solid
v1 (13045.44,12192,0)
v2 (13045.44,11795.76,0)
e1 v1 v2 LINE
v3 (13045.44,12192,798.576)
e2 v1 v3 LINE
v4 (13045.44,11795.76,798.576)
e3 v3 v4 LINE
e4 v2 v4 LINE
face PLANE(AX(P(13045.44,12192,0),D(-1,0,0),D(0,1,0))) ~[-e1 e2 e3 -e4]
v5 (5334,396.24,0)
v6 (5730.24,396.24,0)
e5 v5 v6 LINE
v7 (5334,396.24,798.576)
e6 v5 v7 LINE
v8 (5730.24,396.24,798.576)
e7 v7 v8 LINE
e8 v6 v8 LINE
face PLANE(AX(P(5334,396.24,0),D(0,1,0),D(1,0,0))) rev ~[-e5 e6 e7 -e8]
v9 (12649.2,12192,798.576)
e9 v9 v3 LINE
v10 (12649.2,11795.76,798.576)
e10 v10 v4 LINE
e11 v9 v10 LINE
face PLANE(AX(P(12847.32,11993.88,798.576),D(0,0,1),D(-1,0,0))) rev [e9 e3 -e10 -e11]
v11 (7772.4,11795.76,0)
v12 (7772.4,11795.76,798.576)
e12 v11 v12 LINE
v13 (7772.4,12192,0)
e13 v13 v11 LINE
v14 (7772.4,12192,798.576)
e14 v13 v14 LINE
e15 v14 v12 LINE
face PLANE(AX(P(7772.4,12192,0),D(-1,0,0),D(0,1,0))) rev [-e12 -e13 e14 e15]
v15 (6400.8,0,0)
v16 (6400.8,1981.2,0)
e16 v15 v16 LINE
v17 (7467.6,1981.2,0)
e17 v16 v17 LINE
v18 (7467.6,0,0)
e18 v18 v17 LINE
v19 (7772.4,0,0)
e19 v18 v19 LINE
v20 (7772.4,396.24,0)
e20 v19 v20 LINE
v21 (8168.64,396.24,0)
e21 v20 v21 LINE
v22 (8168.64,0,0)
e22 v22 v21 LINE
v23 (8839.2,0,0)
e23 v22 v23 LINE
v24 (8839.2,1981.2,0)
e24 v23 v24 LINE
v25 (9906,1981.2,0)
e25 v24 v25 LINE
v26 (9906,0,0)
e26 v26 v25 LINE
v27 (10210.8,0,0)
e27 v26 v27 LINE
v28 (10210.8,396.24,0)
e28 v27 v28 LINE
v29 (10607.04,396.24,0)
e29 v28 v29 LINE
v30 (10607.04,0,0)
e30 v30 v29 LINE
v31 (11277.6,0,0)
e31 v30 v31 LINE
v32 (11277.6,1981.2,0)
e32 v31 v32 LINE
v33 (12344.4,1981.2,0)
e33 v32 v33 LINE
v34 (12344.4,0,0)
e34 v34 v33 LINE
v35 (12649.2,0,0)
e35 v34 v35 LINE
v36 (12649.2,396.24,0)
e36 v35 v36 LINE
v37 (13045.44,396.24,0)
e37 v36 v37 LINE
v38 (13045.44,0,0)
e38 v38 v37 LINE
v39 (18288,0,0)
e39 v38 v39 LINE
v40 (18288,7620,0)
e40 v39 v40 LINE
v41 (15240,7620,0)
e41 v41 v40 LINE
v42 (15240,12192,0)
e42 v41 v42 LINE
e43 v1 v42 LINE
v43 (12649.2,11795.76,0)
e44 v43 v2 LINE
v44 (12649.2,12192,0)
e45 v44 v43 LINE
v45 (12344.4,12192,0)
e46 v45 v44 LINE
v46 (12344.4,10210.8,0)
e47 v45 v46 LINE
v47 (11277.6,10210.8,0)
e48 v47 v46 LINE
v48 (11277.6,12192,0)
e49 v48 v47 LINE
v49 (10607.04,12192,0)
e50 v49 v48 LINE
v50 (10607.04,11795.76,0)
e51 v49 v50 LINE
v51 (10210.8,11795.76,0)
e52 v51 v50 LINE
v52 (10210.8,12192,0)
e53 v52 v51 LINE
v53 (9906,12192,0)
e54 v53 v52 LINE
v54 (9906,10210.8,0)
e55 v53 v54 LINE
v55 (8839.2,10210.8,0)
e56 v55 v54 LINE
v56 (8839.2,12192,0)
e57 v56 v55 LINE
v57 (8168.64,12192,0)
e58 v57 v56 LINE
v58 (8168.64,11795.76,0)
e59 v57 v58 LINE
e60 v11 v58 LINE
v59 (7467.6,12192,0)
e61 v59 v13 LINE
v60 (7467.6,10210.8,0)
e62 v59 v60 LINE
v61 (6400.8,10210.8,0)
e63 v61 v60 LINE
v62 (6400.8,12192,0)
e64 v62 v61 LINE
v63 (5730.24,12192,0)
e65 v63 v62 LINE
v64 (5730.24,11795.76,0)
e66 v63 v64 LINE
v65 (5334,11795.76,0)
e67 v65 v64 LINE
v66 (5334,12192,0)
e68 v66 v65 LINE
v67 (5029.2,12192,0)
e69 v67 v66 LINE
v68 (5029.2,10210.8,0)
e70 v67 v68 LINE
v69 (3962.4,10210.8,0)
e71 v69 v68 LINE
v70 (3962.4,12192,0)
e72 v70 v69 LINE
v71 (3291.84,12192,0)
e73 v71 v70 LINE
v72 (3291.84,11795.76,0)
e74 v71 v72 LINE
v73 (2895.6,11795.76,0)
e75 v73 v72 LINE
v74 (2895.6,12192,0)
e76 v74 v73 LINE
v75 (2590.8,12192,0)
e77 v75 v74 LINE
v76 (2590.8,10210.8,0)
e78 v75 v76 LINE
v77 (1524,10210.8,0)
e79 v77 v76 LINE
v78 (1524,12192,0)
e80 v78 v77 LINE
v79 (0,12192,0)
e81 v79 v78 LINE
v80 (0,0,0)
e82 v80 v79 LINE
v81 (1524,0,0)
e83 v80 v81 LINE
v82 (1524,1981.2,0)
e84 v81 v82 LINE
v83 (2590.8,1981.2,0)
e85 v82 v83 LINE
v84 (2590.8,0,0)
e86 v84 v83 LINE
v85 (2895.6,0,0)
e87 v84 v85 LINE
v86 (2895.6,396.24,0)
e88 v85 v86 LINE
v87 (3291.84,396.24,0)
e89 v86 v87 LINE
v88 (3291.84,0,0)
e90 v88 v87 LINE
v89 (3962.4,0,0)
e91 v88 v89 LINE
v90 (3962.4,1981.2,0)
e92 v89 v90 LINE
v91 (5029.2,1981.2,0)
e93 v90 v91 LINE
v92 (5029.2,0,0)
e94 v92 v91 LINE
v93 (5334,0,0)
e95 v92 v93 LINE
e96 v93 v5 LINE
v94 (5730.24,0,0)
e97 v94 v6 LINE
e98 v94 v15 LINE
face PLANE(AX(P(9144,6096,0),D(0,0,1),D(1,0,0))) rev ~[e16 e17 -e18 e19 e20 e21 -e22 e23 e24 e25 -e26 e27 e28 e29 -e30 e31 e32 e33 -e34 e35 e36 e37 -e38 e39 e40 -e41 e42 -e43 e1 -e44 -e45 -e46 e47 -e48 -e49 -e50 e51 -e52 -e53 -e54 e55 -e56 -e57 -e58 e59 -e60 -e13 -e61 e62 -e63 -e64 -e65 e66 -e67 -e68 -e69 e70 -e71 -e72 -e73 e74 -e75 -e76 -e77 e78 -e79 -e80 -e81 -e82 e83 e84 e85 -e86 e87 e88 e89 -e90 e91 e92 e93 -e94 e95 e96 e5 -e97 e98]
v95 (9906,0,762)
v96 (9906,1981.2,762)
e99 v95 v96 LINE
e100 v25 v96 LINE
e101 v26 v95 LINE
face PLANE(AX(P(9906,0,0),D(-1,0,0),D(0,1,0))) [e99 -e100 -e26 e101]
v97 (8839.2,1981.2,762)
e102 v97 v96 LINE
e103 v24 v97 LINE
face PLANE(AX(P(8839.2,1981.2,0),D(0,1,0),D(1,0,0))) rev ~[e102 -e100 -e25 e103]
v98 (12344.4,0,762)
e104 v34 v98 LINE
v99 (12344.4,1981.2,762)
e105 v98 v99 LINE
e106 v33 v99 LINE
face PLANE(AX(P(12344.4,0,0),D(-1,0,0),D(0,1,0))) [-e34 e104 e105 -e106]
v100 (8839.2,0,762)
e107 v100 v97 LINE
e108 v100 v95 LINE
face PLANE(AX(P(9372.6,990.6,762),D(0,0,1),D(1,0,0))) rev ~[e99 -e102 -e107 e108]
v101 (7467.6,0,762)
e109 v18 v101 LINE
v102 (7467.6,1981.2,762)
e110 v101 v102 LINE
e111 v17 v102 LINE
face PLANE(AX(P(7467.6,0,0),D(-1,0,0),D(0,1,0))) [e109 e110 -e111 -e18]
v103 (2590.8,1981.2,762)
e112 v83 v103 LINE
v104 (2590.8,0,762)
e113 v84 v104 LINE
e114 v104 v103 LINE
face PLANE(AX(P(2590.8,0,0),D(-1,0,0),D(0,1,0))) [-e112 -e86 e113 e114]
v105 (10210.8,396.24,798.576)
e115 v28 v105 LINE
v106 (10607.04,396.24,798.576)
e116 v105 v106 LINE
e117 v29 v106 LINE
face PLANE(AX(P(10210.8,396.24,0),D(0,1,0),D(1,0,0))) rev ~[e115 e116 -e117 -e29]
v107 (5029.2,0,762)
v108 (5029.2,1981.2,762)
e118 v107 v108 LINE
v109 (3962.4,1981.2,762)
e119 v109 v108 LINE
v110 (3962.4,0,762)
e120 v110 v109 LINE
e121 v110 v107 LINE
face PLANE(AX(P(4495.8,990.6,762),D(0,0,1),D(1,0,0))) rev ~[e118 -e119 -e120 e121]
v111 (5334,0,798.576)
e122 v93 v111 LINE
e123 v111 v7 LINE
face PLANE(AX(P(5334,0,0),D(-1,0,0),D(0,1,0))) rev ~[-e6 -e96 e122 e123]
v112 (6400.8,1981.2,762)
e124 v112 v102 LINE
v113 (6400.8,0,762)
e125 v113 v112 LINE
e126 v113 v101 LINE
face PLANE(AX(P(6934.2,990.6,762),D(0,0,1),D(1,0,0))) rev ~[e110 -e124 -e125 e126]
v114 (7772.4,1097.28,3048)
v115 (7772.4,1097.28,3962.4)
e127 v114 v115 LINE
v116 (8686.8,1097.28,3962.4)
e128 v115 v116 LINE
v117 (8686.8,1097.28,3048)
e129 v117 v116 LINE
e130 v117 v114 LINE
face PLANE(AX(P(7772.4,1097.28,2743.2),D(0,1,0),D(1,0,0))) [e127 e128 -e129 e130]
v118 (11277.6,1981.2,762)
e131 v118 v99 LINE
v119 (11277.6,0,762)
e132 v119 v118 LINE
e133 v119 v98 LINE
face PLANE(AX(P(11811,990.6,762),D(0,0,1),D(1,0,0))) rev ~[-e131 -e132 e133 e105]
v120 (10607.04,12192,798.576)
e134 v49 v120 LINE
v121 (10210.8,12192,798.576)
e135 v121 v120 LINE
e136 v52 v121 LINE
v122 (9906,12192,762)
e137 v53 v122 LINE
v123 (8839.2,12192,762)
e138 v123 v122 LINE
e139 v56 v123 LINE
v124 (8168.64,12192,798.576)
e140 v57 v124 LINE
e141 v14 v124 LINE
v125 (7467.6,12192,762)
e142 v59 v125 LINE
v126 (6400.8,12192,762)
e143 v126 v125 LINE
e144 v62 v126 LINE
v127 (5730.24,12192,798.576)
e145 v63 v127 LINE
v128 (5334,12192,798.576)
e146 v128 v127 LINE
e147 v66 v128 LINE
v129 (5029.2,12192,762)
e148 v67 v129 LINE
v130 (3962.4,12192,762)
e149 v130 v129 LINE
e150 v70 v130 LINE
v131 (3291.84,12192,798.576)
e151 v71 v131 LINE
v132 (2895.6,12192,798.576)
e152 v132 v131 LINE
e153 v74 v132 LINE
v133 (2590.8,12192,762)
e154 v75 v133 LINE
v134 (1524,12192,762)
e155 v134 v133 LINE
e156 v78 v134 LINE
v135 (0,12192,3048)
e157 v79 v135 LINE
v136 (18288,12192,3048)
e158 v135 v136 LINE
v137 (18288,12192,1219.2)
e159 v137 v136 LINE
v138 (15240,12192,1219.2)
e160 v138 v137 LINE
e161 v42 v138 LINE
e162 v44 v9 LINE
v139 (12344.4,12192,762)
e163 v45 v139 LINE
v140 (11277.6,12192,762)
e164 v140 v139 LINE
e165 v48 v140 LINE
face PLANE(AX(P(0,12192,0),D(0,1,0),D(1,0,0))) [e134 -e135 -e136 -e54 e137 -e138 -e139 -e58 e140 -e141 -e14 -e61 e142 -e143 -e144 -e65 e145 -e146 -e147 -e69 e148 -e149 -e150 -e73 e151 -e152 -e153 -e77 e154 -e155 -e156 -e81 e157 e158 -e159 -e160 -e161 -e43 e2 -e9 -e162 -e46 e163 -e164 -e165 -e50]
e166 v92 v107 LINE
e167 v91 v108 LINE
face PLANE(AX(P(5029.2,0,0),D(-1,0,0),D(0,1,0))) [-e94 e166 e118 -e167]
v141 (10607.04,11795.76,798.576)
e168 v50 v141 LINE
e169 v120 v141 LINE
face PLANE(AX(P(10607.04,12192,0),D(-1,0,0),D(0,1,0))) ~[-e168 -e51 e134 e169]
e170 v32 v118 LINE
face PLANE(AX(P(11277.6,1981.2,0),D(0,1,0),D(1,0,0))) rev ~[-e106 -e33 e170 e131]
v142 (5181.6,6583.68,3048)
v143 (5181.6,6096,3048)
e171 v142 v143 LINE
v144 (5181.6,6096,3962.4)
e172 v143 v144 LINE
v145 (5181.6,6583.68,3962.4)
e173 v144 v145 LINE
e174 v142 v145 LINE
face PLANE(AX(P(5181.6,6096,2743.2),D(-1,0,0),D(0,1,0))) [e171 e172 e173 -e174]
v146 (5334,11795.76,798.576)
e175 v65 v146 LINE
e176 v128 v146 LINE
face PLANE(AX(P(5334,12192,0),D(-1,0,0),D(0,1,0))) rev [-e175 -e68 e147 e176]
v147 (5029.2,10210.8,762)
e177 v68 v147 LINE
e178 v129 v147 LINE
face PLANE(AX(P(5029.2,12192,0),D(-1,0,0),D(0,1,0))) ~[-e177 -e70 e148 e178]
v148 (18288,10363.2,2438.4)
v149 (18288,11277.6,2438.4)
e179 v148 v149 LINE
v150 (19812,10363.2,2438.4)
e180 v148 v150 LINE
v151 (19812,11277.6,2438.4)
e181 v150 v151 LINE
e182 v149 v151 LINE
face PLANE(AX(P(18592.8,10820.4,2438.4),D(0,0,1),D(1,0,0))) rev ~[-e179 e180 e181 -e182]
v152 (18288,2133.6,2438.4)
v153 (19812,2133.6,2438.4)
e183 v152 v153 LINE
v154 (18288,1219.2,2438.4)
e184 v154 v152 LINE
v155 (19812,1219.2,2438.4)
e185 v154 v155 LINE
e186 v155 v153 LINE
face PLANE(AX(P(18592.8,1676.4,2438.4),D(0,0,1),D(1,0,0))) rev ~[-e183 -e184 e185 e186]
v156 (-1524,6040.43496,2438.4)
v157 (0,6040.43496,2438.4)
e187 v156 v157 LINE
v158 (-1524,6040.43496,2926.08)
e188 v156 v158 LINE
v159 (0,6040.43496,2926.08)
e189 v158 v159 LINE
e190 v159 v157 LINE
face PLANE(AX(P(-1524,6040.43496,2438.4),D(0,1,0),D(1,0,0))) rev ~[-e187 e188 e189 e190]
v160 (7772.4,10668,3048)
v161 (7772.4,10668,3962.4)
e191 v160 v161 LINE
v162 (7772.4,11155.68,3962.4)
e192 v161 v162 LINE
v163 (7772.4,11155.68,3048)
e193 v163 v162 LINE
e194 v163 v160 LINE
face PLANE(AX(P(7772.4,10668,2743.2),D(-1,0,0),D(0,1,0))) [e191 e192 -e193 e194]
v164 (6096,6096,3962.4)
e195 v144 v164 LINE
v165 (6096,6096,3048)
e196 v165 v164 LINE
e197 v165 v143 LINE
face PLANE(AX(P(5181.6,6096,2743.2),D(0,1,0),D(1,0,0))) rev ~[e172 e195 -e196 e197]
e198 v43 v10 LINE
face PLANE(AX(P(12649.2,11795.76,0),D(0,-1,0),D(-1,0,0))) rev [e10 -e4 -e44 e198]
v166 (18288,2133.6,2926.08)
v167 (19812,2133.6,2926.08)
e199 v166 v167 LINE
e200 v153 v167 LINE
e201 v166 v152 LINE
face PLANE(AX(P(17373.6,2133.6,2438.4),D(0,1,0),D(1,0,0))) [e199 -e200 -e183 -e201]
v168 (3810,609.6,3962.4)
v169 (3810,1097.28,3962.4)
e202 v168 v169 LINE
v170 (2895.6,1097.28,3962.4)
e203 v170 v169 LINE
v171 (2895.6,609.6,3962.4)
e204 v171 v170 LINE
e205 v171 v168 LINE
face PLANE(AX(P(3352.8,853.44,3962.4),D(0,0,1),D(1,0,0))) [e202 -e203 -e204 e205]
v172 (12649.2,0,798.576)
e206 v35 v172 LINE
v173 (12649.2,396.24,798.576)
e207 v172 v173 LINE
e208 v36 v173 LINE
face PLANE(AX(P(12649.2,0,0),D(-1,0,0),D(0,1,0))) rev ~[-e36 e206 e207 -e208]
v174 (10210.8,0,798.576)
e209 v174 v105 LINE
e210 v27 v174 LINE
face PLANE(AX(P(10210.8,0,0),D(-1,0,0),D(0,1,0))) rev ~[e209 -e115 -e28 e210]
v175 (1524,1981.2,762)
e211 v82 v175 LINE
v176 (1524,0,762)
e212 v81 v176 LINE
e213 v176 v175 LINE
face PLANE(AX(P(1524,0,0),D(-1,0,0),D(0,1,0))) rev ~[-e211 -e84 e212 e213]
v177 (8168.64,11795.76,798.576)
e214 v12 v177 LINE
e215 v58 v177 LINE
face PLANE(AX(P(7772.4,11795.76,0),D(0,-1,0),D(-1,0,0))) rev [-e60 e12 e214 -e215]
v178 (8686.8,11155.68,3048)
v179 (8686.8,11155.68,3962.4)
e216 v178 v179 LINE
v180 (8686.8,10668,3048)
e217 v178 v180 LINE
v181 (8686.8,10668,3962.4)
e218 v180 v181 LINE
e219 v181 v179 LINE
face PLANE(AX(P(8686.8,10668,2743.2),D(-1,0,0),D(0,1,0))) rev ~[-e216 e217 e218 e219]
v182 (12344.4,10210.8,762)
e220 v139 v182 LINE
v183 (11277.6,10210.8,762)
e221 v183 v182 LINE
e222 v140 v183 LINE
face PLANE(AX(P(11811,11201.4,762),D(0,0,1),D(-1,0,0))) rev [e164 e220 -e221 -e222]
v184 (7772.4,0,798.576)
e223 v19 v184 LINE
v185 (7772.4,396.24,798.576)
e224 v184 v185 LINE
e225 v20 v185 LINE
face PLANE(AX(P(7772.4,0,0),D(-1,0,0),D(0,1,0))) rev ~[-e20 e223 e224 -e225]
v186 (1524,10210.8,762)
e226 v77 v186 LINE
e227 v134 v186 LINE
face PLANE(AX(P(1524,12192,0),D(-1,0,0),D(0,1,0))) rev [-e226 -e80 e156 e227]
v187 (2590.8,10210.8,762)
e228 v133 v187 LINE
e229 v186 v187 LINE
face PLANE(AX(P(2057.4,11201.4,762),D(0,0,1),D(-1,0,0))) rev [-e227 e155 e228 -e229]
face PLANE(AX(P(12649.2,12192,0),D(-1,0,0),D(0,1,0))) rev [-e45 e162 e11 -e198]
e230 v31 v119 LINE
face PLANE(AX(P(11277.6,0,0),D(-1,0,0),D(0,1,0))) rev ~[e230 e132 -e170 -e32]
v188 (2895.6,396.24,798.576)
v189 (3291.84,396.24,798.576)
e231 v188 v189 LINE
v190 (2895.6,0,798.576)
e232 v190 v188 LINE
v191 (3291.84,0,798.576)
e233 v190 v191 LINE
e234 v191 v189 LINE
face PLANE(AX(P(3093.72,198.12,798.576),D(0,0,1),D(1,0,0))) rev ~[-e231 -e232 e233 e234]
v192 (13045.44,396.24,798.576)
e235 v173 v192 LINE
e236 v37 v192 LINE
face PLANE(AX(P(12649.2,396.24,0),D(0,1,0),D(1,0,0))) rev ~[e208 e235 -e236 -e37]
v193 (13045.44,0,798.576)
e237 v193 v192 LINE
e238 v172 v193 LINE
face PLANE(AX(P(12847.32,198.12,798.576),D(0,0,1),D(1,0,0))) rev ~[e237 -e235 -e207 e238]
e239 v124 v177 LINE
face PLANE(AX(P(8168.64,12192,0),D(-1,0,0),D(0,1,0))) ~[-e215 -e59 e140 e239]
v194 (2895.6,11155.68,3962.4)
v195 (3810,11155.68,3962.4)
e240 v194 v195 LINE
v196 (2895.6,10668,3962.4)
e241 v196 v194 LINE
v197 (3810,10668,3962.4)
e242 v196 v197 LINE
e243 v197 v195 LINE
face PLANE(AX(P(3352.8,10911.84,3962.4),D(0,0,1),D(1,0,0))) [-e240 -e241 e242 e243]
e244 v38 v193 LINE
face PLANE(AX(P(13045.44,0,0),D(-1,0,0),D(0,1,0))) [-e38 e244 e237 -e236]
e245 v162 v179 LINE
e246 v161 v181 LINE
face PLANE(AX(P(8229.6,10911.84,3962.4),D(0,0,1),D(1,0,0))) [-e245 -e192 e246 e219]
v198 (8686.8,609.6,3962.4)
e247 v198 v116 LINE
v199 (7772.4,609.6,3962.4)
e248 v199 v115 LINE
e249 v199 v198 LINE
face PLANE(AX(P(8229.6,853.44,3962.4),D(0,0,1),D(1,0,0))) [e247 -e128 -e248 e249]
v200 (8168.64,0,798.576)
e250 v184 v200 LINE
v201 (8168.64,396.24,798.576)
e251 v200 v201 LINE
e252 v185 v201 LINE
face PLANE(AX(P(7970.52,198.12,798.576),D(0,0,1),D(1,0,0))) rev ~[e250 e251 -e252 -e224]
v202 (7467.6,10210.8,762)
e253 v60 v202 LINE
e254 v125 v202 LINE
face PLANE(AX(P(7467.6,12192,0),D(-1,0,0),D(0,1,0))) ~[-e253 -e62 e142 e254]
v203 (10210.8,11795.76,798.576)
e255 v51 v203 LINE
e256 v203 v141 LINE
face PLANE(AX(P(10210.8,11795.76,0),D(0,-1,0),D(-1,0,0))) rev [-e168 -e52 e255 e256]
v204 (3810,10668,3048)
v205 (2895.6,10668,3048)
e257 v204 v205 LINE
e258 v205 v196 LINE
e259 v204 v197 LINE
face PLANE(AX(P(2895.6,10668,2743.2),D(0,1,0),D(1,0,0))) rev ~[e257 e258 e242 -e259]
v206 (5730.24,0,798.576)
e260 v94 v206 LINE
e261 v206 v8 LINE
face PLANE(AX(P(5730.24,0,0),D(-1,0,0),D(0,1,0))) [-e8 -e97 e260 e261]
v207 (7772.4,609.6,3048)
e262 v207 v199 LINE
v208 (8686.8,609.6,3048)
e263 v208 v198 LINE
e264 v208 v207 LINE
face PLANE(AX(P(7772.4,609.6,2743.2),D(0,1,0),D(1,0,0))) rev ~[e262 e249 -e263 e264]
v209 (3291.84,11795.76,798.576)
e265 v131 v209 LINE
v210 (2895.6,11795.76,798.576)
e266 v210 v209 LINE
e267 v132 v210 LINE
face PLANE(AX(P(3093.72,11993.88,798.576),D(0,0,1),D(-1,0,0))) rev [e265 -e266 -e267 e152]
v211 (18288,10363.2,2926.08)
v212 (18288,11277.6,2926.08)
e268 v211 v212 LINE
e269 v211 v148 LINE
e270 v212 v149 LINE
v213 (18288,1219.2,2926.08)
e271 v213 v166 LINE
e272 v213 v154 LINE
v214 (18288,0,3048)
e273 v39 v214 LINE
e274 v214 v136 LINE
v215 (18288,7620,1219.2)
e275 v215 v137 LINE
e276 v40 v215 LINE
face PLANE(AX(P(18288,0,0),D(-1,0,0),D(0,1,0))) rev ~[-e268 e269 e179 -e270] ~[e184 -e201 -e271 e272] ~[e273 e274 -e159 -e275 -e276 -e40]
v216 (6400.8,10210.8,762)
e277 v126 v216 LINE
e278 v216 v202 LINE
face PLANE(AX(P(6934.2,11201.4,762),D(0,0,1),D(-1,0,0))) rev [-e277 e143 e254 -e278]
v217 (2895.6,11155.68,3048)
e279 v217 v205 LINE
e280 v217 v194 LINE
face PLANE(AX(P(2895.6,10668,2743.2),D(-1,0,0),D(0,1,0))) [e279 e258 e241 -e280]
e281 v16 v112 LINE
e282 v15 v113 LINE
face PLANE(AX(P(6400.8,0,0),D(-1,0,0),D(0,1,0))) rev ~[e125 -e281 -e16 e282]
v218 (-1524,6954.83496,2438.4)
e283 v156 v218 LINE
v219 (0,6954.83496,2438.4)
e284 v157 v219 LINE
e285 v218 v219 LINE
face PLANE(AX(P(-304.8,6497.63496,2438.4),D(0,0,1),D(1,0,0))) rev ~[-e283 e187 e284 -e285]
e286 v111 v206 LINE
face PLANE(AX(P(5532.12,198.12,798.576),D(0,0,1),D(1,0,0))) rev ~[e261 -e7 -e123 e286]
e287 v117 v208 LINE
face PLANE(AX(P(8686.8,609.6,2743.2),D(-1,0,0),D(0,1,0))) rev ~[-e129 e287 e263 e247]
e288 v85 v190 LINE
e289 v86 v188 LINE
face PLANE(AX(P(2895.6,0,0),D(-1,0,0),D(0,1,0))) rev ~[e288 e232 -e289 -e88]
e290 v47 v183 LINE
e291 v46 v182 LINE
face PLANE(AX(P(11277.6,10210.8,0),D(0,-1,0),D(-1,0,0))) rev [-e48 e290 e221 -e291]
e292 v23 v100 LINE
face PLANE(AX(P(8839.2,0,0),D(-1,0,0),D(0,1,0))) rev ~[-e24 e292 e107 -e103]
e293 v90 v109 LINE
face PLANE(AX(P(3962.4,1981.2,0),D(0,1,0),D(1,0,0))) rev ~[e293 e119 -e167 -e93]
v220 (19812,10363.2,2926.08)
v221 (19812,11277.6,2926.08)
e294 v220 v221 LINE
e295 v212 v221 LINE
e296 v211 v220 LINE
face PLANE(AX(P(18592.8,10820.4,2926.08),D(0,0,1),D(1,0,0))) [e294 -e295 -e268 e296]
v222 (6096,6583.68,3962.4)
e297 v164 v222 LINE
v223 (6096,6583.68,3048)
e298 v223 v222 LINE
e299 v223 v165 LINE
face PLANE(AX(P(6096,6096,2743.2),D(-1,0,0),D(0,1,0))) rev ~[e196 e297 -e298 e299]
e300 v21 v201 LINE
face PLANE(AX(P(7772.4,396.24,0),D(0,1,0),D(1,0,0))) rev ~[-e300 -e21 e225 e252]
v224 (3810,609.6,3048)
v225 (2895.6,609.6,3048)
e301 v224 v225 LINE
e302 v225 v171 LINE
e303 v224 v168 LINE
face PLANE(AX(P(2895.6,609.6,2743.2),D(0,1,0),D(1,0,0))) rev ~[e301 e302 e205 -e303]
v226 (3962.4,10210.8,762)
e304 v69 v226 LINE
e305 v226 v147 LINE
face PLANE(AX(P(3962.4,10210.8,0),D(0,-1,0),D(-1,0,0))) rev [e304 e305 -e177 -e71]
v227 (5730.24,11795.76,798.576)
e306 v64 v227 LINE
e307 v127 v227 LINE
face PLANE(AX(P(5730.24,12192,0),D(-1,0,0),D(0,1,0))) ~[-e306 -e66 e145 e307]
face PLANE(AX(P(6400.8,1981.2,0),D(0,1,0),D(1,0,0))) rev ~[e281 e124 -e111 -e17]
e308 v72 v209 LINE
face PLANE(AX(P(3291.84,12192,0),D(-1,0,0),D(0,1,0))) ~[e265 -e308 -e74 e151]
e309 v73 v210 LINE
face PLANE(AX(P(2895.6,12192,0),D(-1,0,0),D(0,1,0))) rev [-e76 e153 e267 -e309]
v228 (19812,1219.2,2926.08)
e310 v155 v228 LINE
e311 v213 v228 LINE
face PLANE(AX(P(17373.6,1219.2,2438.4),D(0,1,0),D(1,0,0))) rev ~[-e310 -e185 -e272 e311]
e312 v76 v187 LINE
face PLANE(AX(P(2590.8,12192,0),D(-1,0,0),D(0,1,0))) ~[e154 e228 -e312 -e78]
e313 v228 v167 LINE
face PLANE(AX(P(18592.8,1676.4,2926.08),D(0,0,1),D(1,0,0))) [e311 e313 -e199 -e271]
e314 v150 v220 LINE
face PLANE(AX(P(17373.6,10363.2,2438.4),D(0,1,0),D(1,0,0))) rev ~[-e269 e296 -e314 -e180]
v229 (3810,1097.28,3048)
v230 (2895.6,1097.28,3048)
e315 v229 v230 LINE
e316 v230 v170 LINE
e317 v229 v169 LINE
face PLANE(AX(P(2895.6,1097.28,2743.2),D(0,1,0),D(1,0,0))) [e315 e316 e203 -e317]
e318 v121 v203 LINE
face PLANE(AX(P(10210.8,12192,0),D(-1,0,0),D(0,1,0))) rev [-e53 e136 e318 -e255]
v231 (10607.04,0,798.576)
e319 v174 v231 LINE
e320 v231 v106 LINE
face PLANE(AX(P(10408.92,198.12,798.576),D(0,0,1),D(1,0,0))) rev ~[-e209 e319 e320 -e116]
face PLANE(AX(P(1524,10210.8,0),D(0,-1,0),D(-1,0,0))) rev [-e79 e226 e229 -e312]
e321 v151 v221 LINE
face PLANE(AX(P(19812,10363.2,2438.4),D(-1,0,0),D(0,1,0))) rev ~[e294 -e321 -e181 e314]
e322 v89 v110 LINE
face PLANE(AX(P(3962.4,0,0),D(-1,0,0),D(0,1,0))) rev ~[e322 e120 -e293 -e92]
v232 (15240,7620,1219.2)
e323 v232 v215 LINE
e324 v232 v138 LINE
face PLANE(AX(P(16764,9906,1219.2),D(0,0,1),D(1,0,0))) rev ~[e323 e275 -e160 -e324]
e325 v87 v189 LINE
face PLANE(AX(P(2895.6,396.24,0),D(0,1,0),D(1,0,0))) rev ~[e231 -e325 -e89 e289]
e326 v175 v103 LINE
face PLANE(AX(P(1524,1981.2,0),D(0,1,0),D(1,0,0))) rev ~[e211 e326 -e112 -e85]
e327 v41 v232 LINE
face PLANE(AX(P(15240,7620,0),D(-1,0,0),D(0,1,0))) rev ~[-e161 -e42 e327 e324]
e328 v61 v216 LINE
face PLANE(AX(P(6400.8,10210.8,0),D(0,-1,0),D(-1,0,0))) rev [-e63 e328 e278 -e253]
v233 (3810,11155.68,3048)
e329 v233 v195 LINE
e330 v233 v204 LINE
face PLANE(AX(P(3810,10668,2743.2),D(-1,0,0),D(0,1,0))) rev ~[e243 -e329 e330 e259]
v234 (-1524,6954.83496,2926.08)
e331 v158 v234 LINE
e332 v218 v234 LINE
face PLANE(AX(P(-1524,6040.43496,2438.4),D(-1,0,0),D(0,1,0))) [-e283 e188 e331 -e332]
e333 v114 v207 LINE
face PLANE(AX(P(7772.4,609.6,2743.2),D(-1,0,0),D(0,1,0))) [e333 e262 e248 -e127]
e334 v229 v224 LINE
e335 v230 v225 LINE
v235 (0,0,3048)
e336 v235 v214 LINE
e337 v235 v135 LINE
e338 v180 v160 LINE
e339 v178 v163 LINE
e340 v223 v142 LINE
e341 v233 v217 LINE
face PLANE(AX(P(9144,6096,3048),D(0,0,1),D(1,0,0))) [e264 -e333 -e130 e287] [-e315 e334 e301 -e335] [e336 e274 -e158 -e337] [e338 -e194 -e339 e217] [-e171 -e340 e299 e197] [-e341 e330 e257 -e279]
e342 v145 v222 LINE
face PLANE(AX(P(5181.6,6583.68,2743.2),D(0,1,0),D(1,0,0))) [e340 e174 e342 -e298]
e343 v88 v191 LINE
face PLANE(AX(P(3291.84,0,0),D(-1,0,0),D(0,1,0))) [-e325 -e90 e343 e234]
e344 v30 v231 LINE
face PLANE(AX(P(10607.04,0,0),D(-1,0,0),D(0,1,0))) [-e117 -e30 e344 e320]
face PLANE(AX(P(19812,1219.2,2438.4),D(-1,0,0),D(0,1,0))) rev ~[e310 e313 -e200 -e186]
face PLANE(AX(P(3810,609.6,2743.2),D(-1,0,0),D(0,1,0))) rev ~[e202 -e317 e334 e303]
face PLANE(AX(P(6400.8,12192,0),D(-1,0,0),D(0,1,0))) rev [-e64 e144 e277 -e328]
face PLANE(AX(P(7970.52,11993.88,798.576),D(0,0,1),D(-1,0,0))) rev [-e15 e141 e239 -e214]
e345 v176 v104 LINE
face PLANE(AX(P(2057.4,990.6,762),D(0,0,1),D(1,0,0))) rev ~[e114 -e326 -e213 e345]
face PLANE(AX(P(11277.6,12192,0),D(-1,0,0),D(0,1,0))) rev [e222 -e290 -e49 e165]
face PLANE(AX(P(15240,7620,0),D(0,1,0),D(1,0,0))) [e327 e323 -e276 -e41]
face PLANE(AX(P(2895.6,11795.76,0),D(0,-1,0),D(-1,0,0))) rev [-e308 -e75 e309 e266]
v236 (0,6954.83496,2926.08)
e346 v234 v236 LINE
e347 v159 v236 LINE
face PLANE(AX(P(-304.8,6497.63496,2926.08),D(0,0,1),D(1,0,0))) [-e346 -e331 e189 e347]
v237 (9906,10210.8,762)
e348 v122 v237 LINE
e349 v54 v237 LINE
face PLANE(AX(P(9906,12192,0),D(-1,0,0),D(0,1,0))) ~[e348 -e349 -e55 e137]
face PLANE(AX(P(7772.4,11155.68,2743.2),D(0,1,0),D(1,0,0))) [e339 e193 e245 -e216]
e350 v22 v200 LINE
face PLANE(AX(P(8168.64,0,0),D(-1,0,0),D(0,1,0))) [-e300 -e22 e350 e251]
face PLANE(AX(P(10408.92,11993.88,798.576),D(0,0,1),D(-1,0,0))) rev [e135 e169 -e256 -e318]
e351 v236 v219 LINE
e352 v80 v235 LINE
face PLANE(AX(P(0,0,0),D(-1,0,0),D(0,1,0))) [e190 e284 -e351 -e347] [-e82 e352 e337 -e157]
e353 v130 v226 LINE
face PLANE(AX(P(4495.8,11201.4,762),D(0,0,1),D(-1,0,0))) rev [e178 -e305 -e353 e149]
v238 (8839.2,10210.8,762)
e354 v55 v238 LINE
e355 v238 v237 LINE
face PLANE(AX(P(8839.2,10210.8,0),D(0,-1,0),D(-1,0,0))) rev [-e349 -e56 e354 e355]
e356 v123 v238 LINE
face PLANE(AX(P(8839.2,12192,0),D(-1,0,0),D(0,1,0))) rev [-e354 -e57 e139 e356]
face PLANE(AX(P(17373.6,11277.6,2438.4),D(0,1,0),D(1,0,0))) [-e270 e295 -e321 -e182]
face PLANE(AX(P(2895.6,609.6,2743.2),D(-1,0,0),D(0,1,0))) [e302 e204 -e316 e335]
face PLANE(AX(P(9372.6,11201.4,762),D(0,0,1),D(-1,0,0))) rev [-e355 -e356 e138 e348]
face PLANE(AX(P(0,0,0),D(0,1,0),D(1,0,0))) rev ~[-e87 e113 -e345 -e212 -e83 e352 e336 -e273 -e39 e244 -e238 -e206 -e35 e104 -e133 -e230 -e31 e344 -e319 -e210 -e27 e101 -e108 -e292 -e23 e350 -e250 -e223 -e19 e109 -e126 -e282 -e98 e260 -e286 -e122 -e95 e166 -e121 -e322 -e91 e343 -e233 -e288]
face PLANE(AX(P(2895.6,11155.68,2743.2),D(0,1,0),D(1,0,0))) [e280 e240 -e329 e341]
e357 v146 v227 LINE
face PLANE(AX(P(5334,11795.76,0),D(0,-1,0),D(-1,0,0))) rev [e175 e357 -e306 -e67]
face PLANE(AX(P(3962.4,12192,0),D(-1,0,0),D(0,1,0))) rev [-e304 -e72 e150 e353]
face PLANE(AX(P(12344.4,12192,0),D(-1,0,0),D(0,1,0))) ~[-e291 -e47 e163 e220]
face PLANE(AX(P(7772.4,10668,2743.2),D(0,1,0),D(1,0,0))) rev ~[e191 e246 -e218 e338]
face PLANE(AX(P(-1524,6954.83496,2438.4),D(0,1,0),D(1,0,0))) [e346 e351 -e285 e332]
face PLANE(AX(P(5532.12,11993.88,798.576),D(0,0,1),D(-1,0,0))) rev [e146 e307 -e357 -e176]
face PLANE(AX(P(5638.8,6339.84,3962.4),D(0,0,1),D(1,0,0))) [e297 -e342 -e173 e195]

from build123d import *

# Parameters (mm, degrees)
BOX011_W     = 3048
BOX011_H     = 4572
BOX011_DEPTH = 1219.2
BOX006_W     = 1066.8
BOX006_H     = 1981.2
BOX006_DEPTH = 762
BOX005_W     = 396.24
BOX005_H     = 396.24
BOX005_DEPTH = 798.576
BOX007_W     = 1066.8
BOX007_H     = 1981.2
BOX007_DEPTH = 762
BOX008_W     = 396.24
BOX008_H     = 396.24
BOX008_DEPTH = 798.576
BOX010_W     = 1066.8
BOX010_H     = 1981.2
BOX010_DEPTH = 762
BOX009_W     = 396.24
BOX009_H     = 396.24
BOX009_DEPTH = 798.576
BOX001_W     = 1066.8
BOX001_H     = 1981.2
BOX001_DEPTH = 762
BOX002_W     = 396.24
BOX002_H     = 396.24
BOX002_DEPTH = 798.576
BOX003_W     = 1066.8
BOX003_H     = 1981.2
BOX003_DEPTH = 762
BOX004_W     = 396.24
BOX004_H     = 396.24
BOX004_DEPTH = 798.576
BOX017_W     = 914.4
BOX017_H     = 487.68
BOX017_DEPTH = 1219.2
BOX018_W     = 914.4
BOX018_H     = 487.68
BOX018_DEPTH = 1219.2
BOX019_W     = 914.4
BOX019_H     = 487.68
BOX019_DEPTH = 1219.2
BOX021_W     = 914.4
BOX021_H     = 487.68
BOX021_DEPTH = 1219.2
BOX016_W     = 914.4
BOX016_H     = 487.68
BOX016_DEPTH = 1219.2
BOX012_W     = 2438.4
BOX012_H     = 914.4
BOX012_DEPTH = 487.68
BOX013_W     = 2438.4
BOX013_H     = 914.4
BOX013_DEPTH = 487.68
BOX020_W     = 2438.4
BOX020_H     = 914.4
BOX020_DEPTH = 487.68
BOX_W        = 18288
BOX_H        = 12192
BOX_DEPTH    = 3048


with BuildPart() as nurse_station:
    # Box011 → Box011 (new body)
    with BuildSketch(Plane(origin=(15240, 7620, 0), x_dir=(1, 0, 0), z_dir=(0, 0, 1))):
        with Locations((1524, 2286)):
            Rectangle(BOX011_W, BOX011_H)
    extrude(amount=BOX011_DEPTH)


with BuildPart() as box006:
    # Box006 → Box006 (new body)
    with BuildSketch(Plane.XY):
        with Locations((533.4, 990.6)):
            Rectangle(BOX006_W, BOX006_H)
    extrude(amount=BOX006_DEPTH)


with BuildPart() as fusion002:
    # Box005 → Box005 (new body)
    with BuildSketch(Plane(origin=(1371.6, 0, 0), x_dir=(1, 0, 0), z_dir=(0, 0, 1))):
        with Locations((198.12, 198.12)):
            Rectangle(BOX005_W, BOX005_H)
    extrude(amount=BOX005_DEPTH)

    # Fusion002: union Box006
    add(box006.part)


with BuildPart() as fusion002_1:
    # Fusion002 placement: moved
    add(fusion002.part.moved(Location((4876.8, 0, 0))))


with BuildPart() as box007:
    # Box007 → Box007 (new body)
    with BuildSketch(Plane.XY):
        with Locations((533.4, 990.6)):
            Rectangle(BOX007_W, BOX007_H)
    extrude(amount=BOX007_DEPTH)


with BuildPart() as fusion003:
    # Box008 → Box008 (new body)
    with BuildSketch(Plane(origin=(1371.6, 0, 0), x_dir=(1, 0, 0), z_dir=(0, 0, 1))):
        with Locations((198.12, 198.12)):
            Rectangle(BOX008_W, BOX008_H)
    extrude(amount=BOX008_DEPTH)

    # Fusion003: union Box007
    add(box007.part)


with BuildPart() as fusion003_1:
    # Fusion003 placement: moved
    add(fusion003.part.moved(Location((7315.2, 0, 0))))


with BuildPart() as box010:
    # Box010 → Box010 (new body)
    with BuildSketch(Plane.XY):
        with Locations((533.4, 990.6)):
            Rectangle(BOX010_W, BOX010_H)
    extrude(amount=BOX010_DEPTH)


with BuildPart() as fusion004:
    # Box009 → Box009 (new body)
    with BuildSketch(Plane(origin=(1371.6, 0, 0), x_dir=(1, 0, 0), z_dir=(0, 0, 1))):
        with Locations((198.12, 198.12)):
            Rectangle(BOX009_W, BOX009_H)
    extrude(amount=BOX009_DEPTH)

    # Fusion004: union Box010
    add(box010.part)


with BuildPart() as fusion004_1:
    # Fusion004 placement: moved
    add(fusion004.part.moved(Location((9753.6, 0, 0))))


with BuildPart() as box001:
    # Box001 → Box001 (new body)
    with BuildSketch(Plane.XY):
        with Locations((533.4, 990.6)):
            Rectangle(BOX001_W, BOX001_H)
    extrude(amount=BOX001_DEPTH)


with BuildPart() as fusion:
    # Box002 → Box002 (new body)
    with BuildSketch(Plane(origin=(1371.6, 0, 0), x_dir=(1, 0, 0), z_dir=(0, 0, 1))):
        with Locations((198.12, 198.12)):
            Rectangle(BOX002_W, BOX002_H)
    extrude(amount=BOX002_DEPTH)

    # Fusion: union Box001
    add(box001.part)


with BuildPart() as box003:
    # Box003 → Box003 (new body)
    with BuildSketch(Plane.XY):
        with Locations((533.4, 990.6)):
            Rectangle(BOX003_W, BOX003_H)
    extrude(amount=BOX003_DEPTH)


with BuildPart() as right_beds:
    # Box004 → Box004 (new body)
    with BuildSketch(Plane(origin=(1371.6, 0, 0), x_dir=(1, 0, 0), z_dir=(0, 0, 1))):
        with Locations((198.12, 198.12)):
            Rectangle(BOX004_W, BOX004_H)
    extrude(amount=BOX004_DEPTH)

    # Fusion001: union Box003
    add(box003.part)


with BuildPart() as right_beds_1:
    # Fusion001 placement: moved
    add(right_beds.part.moved(Location((2438.4, 0, 0))))

    # Fusion005: union Fusion002, Fusion003, Fusion004, Fusion
    add(fusion002_1.part)
    add(fusion003_1.part)
    add(fusion004_1.part)
    add(fusion.part)


with BuildPart() as surfaces:
    # Part__Mirroring: instance of right beds
    add(right_beds_1.part.mirror(Plane(origin=(0, 6096, 0), x_dir=(1, 0, 0), z_dir=(0, 1, 0))))

    # Fusion006: union right beds
    add(right_beds_1.part)


with BuildPart() as surfaces_1:
    # Fusion006 placement: moved
    add(surfaces.part.moved(Location((1524, 0, 0))))

    # Fusion010: union Nurse Station
    add(nurse_station.part)


with BuildPart() as branch003:
    # Box017 → Box017 (new body)
    with BuildSketch(Plane(origin=(7772.4, 10668, 2743.2), x_dir=(1, 0, 0), z_dir=(0, 0, 1))):
        with Locations((457.2, 243.84)):
            Rectangle(BOX017_W, BOX017_H)
    extrude(amount=BOX017_DEPTH)


with BuildPart() as branch004:
    # Box018 → Box018 (new body)
    with BuildSketch(Plane(origin=(2895.6, 609.6, 2743.2), x_dir=(1, 0, 0), z_dir=(0, 0, 1))):
        with Locations((457.2, 243.84)):
            Rectangle(BOX018_W, BOX018_H)
    extrude(amount=BOX018_DEPTH)


with BuildPart() as branch005:
    # Box019 → Box019 (new body)
    with BuildSketch(Plane(origin=(2895.6, 10668, 2743.2), x_dir=(1, 0, 0), z_dir=(0, 0, 1))):
        with Locations((457.2, 243.84)):
            Rectangle(BOX019_W, BOX019_H)
    extrude(amount=BOX019_DEPTH)


with BuildPart() as branch006:
    # Box021 → Box021 (new body)
    with BuildSketch(Plane(origin=(5181.6, 6096, 2743.2), x_dir=(1, 0, 0), z_dir=(0, 0, 1))):
        with Locations((457.2, 243.84)):
            Rectangle(BOX021_W, BOX021_H)
    extrude(amount=BOX021_DEPTH)


with BuildPart() as fusion013:
    # Box016 → Box016 (new body)
    with BuildSketch(Plane(origin=(7772.4, 609.6, 2743.2), x_dir=(1, 0, 0), z_dir=(0, 0, 1))):
        with Locations((457.2, 243.84)):
            Rectangle(BOX016_W, BOX016_H)
    extrude(amount=BOX016_DEPTH)

    # Fusion013: union branch003, branch004, branch005, branch006
    add(branch003.part)
    add(branch004.part)
    add(branch005.part)
    add(branch006.part)


with BuildPart() as main_inlet:
    # Box012 → Box012 (new body)
    with BuildSketch(Plane(origin=(17373.6, 1219.2, 2438.4), x_dir=(1, 0, 0), z_dir=(0, 0, 1))):
        with Locations((1219.2, 457.2)):
            Rectangle(BOX012_W, BOX012_H)
    extrude(amount=BOX012_DEPTH)


with BuildPart() as main_outlet:
    # Box013 → Box013 (new body)
    with BuildSketch(Plane(origin=(-1524, 6040.43496, 2438.4), x_dir=(1, 0, 0), z_dir=(0, 0, 1))):
        with Locations((1219.2, 457.2)):
            Rectangle(BOX013_W, BOX013_H)
    extrude(amount=BOX013_DEPTH)


with BuildPart() as fusion014:
    # Box020 → Box020 (new body)
    with BuildSketch(Plane(origin=(17373.6, 10363.2, 2438.4), x_dir=(1, 0, 0), z_dir=(0, 0, 1))):
        with Locations((1219.2, 457.2)):
            Rectangle(BOX020_W, BOX020_H)
    extrude(amount=BOX020_DEPTH)

    # Fusion012: union main inlet, main outlet
    add(main_inlet.part)
    add(main_outlet.part)

    # Fusion014: union Fusion013
    add(fusion013.part)


with BuildPart() as cut:
    # Box → Box (new body)
    with BuildSketch(Plane.XY):
        with Locations((9144, 6096)):
            Rectangle(BOX_W, BOX_H)
    extrude(amount=BOX_DEPTH)

    # Fusion015: union Fusion014
    add(fusion014.part)

    # Cut: cut surfaces
    add(surfaces_1.part, mode=Mode.SUBTRACT)


solid = cut.part
